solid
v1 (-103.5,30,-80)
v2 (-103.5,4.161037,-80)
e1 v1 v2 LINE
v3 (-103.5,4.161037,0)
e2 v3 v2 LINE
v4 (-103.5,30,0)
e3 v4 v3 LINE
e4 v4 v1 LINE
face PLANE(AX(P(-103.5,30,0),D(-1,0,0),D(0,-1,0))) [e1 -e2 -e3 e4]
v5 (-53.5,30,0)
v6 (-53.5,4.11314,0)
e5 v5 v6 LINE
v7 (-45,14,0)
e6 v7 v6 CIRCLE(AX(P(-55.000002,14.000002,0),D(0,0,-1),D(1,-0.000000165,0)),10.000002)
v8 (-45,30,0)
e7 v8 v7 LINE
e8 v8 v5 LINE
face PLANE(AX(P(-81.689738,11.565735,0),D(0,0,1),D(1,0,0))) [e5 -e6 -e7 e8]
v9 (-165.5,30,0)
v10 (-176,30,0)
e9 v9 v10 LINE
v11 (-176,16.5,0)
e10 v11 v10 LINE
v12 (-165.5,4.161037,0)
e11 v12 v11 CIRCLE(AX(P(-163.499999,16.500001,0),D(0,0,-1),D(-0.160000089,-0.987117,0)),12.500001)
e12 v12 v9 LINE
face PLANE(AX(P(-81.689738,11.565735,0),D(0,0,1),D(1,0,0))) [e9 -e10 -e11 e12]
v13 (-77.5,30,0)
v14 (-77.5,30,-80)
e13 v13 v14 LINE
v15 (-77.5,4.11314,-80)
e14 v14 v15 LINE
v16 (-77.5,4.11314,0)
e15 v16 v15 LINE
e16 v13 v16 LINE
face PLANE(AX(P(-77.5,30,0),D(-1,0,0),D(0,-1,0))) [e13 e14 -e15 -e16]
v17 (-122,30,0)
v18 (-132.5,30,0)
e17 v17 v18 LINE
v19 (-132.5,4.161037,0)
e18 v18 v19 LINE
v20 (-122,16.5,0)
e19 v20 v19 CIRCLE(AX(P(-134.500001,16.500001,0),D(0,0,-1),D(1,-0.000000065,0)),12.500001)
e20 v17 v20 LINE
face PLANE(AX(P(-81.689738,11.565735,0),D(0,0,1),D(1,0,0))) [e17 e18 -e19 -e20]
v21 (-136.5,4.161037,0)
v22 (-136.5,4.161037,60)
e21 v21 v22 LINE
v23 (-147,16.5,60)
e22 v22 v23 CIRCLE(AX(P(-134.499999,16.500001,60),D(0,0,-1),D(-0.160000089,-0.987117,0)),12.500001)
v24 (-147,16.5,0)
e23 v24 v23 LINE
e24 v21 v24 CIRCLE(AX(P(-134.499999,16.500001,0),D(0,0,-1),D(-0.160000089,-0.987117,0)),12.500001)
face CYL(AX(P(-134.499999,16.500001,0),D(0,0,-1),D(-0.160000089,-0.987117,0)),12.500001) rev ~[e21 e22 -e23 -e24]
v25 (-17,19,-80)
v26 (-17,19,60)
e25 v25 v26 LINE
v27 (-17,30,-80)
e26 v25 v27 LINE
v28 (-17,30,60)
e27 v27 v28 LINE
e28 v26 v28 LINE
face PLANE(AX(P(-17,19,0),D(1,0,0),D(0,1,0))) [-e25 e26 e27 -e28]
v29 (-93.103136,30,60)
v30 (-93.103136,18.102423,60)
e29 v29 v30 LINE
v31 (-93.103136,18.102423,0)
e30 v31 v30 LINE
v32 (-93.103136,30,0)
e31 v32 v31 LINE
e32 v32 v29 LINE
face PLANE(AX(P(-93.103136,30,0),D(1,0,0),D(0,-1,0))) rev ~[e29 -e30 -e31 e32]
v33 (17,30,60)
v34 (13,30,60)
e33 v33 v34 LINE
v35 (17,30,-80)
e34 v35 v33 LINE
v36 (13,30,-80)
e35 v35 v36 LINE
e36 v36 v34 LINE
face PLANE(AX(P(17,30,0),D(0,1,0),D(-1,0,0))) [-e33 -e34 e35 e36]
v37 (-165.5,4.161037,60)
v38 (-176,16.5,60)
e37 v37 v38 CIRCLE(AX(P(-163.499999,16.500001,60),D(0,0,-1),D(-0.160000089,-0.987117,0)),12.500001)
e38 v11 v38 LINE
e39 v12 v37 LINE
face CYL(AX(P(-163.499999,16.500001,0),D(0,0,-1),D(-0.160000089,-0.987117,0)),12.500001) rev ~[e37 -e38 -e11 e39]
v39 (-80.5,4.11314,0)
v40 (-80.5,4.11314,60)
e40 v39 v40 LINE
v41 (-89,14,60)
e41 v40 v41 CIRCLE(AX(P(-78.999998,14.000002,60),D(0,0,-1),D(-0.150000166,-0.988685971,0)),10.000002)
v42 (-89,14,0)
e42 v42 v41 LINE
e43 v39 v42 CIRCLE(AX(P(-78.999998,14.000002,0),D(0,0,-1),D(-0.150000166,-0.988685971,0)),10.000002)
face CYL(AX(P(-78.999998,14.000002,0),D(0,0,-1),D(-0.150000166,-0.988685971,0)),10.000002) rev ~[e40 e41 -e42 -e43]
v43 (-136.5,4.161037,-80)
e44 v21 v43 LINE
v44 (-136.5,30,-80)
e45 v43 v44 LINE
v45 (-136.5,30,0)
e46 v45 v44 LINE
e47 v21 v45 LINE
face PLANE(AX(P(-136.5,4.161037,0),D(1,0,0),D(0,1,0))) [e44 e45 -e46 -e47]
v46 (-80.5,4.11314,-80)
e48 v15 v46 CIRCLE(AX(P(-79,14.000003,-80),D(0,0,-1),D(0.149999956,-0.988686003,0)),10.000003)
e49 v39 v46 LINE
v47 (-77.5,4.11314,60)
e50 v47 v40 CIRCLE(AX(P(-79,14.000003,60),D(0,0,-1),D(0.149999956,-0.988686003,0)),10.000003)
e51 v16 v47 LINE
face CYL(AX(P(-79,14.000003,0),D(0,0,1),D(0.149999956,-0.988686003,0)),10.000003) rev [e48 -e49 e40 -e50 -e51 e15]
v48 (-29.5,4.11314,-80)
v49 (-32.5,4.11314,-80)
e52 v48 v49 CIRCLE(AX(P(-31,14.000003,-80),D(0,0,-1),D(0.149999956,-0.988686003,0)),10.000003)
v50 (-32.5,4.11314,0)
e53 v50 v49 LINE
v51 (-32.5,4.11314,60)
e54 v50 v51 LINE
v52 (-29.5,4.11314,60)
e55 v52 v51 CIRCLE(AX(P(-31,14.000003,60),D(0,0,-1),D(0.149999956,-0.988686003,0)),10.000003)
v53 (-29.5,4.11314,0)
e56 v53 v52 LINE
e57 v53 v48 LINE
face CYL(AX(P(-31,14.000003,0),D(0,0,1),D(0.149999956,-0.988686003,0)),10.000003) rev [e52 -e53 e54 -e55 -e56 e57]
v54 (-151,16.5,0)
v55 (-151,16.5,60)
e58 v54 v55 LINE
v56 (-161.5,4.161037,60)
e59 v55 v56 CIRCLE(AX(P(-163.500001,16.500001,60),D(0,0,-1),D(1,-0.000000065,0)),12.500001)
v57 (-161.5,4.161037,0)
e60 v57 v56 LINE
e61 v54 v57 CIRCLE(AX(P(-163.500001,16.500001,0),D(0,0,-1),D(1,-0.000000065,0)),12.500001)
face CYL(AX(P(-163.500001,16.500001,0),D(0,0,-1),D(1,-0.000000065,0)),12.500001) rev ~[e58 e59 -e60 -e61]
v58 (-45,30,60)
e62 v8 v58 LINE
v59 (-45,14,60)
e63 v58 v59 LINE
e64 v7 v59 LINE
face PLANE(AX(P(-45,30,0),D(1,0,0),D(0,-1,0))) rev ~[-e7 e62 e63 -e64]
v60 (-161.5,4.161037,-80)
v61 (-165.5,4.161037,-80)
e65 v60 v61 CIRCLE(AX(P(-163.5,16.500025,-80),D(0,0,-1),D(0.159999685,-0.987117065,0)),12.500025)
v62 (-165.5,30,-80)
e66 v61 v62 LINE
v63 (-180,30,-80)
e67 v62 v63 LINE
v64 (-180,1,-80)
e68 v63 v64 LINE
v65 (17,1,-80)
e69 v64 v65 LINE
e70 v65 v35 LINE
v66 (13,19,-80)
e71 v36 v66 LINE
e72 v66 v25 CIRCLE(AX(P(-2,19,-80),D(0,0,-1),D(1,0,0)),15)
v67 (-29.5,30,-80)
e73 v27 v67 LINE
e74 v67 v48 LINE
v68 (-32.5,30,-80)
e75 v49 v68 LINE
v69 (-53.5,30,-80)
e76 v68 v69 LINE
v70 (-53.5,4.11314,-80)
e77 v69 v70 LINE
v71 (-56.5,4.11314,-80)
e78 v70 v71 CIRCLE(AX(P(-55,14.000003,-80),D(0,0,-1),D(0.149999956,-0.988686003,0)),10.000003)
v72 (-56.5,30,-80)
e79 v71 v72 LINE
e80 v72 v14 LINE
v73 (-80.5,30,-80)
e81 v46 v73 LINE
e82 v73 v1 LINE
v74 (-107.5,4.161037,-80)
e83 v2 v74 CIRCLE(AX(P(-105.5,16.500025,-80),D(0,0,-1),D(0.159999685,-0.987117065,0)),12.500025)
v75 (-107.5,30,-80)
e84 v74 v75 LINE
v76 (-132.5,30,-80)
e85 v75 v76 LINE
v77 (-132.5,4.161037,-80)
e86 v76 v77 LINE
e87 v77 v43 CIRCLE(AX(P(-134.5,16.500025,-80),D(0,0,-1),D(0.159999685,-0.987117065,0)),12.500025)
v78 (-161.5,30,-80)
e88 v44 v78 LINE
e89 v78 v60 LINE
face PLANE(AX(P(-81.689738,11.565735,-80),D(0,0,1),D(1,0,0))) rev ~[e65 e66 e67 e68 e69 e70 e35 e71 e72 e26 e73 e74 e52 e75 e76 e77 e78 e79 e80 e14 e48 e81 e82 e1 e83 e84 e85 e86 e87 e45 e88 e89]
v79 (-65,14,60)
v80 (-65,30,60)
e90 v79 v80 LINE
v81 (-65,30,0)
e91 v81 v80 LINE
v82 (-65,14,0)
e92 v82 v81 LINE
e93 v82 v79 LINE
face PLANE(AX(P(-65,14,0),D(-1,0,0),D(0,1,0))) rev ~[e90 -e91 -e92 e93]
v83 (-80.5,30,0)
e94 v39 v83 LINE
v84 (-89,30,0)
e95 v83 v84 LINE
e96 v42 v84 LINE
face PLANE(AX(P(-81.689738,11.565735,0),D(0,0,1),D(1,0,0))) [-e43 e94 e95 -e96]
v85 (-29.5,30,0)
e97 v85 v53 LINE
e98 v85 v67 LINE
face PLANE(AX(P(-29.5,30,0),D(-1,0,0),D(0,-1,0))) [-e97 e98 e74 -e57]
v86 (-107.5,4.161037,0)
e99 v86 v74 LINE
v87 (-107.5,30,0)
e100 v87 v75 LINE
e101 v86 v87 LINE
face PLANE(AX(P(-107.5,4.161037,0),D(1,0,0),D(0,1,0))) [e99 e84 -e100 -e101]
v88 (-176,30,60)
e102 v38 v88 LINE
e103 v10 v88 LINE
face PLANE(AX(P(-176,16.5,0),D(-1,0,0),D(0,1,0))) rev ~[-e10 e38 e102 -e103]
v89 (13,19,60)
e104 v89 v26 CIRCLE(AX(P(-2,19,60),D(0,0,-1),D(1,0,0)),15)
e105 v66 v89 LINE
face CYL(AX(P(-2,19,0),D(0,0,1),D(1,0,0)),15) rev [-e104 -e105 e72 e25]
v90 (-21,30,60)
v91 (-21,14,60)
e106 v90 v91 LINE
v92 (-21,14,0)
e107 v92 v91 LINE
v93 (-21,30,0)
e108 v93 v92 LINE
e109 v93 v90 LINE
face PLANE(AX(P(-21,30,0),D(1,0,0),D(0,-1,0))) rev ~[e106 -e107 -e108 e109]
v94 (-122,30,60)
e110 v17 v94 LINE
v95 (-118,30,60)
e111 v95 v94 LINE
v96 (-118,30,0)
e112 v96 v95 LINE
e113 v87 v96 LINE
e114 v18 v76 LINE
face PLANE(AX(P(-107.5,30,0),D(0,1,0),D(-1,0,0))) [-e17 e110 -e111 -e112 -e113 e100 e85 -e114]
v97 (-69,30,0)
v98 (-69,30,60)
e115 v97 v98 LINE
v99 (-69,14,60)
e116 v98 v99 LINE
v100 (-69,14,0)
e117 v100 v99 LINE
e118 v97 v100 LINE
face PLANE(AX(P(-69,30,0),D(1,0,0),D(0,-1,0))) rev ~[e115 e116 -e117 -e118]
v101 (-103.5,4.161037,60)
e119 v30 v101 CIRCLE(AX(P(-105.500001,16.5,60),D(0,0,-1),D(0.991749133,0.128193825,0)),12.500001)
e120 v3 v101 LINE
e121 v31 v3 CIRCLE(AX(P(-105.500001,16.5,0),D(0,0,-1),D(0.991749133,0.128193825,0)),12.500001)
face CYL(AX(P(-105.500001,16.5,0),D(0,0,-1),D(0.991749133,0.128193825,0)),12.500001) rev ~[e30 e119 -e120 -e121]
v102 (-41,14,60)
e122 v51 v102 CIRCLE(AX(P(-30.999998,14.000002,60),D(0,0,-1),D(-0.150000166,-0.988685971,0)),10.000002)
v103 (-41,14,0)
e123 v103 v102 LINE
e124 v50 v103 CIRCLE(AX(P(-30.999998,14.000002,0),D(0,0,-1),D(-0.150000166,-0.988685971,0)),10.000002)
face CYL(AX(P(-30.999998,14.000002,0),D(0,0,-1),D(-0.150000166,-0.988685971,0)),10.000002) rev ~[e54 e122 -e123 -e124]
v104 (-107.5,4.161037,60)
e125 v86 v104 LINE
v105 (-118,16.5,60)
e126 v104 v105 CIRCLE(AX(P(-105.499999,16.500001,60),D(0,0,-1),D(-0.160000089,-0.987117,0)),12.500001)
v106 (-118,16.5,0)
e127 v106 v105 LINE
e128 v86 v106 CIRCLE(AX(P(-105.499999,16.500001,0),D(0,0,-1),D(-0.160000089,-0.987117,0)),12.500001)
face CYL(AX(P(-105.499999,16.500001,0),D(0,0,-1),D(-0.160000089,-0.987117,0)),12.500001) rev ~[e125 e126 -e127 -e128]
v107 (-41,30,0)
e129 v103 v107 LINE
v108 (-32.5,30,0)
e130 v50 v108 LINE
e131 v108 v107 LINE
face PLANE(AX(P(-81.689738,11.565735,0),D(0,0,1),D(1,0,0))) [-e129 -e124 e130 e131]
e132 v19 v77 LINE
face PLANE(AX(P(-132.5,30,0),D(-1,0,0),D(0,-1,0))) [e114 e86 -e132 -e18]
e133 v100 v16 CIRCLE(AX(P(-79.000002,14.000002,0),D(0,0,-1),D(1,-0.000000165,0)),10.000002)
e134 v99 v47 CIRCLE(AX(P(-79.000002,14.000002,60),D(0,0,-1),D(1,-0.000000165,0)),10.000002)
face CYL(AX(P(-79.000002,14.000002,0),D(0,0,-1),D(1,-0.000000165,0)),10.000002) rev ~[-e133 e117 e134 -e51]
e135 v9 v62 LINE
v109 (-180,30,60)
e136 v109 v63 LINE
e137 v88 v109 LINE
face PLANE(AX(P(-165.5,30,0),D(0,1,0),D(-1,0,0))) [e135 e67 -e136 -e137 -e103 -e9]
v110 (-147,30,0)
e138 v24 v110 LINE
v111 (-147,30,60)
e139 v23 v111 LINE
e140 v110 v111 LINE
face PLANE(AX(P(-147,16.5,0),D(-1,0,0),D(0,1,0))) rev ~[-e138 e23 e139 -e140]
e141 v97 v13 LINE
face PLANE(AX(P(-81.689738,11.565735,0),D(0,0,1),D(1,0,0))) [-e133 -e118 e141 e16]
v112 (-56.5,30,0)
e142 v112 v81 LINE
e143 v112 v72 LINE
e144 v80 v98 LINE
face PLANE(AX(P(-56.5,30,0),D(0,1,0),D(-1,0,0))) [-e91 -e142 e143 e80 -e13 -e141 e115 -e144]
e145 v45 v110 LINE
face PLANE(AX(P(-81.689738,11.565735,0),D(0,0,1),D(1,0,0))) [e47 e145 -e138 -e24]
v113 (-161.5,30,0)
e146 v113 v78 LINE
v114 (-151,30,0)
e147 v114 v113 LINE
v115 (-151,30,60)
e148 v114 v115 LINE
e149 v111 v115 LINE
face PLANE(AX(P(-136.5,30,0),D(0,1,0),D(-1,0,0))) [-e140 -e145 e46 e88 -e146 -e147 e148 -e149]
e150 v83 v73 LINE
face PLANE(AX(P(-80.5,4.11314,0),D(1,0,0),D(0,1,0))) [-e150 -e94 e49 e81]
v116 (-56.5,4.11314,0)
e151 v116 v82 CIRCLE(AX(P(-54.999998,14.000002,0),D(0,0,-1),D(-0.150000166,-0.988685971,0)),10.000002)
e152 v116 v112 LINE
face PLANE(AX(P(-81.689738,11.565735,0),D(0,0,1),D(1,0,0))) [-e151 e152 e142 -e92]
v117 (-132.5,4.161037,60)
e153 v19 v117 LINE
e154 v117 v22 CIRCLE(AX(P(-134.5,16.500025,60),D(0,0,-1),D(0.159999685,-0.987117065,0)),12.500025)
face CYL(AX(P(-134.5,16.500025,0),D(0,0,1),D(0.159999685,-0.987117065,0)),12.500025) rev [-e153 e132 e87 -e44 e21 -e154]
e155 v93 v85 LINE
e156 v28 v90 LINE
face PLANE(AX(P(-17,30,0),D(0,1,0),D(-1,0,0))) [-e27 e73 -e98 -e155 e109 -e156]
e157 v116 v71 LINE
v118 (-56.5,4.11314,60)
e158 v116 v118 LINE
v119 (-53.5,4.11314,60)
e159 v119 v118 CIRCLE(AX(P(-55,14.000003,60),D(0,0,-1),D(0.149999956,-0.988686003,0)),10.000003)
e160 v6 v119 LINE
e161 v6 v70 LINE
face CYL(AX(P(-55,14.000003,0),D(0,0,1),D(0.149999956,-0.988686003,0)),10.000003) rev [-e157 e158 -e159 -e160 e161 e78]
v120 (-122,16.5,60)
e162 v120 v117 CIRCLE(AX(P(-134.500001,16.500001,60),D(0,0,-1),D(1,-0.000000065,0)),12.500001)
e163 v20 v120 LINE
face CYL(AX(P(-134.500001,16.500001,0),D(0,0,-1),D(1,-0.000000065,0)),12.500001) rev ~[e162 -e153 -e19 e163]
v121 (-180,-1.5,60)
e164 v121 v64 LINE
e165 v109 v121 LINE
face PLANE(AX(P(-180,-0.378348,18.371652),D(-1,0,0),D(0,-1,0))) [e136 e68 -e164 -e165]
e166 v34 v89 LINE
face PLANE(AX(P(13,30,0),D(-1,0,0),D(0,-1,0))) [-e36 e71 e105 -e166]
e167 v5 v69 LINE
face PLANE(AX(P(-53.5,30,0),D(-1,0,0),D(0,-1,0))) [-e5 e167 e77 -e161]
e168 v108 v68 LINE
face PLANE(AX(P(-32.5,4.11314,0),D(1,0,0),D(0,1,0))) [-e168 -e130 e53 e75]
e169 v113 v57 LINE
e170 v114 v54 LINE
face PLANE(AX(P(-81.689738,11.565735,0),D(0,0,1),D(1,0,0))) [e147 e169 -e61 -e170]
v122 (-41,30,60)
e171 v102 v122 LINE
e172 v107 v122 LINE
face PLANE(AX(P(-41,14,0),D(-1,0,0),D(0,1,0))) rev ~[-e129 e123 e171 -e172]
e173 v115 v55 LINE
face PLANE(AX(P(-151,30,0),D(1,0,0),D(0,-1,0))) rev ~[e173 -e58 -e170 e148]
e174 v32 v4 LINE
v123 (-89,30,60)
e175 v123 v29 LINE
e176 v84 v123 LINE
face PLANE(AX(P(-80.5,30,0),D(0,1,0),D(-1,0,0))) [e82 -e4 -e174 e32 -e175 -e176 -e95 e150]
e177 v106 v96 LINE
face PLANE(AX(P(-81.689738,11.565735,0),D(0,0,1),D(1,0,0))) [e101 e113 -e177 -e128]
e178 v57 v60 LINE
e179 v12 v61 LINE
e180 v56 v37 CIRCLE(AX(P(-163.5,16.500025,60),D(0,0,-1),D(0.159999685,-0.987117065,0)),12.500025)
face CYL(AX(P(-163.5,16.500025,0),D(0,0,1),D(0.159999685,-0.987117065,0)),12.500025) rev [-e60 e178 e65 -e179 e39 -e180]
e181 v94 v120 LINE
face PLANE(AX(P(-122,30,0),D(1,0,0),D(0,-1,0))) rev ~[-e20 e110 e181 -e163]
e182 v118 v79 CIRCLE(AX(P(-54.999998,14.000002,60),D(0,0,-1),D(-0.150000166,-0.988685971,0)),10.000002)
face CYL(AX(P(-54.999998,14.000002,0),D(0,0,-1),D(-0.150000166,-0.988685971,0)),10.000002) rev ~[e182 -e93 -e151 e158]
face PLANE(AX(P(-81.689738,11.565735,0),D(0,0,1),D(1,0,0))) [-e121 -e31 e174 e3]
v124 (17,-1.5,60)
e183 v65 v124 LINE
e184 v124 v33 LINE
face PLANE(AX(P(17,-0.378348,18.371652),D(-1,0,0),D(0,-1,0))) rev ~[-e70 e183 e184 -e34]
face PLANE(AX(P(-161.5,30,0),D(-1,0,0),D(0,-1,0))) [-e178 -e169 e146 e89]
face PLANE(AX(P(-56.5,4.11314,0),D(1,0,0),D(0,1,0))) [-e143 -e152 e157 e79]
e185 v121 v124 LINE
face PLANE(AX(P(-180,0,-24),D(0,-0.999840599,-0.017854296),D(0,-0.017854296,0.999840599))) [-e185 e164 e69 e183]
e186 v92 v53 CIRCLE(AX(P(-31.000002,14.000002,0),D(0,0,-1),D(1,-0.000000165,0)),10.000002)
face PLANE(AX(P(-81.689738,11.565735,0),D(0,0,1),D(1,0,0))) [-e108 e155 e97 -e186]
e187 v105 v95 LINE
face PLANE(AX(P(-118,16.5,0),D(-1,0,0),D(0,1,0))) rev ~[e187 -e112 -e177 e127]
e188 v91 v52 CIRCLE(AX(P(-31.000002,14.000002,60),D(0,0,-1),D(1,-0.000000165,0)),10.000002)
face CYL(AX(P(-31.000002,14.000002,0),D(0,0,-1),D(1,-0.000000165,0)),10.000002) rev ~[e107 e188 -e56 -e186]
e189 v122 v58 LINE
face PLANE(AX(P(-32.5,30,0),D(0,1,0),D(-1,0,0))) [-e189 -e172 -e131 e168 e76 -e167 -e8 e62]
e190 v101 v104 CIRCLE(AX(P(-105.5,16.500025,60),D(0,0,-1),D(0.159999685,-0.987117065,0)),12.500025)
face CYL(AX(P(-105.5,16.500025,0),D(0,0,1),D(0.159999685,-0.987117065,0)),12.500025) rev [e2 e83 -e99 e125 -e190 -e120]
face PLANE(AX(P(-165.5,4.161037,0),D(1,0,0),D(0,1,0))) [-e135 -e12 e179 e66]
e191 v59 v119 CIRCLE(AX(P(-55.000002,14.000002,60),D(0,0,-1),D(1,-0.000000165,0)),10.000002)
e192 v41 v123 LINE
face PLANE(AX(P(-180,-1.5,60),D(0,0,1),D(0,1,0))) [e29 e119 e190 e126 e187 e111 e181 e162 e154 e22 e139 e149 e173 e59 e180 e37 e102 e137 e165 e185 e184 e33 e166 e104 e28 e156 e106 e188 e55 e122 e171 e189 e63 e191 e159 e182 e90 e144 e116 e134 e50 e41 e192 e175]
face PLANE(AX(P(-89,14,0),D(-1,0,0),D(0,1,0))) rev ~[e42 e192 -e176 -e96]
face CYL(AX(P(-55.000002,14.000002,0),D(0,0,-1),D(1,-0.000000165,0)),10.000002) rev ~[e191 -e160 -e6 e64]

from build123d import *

# Parameters (mm, degrees)
F1_DEPTH = 60
F2_DEPTH = 80
F4_DEPTH = 197
F5_DEPTH = 197


with BuildPart() as f1:
    # F0 (on Top) → F1 (new body)
    with BuildSketch(Plane.XY):
        with BuildLine():
            Line((-176, 30), (-180, 30))
            Line((-180, 30), (-180, 0))
            Line((-180, 0), (0, 0))
            Line((0, 0), (17, 0))
            Line((17, 0), (17, 30))
            Line((17, 30), (13, 30))
            Line((13, 30), (13, 19))
            ThreePointArc((13, 19), (-2, 4), (-17, 19))
            Line((-17, 19), (-17, 30))
            Line((-17, 30), (-21, 30))
            Line((-21, 30), (-21, 14))
            ThreePointArc((-21, 14), (-23.417125, 7.480798), (-29.5, 4.11314))
            ThreePointArc((-29.5, 4.11314), (-31, 4), (-32.5, 4.11314))
            ThreePointArc((-32.5, 4.11314), (-38.582875, 7.480798), (-41, 14))
            Line((-41, 14), (-41, 30))
            Line((-41, 30), (-45, 30))
            Line((-45, 30), (-45, 14))
            ThreePointArc((-45, 14), (-47.417125, 7.480798), (-53.5, 4.11314))
            ThreePointArc((-53.5, 4.11314), (-55, 4), (-56.5, 4.11314))
            ThreePointArc((-56.5, 4.11314), (-62.582875, 7.480798), (-65, 14))
            Line((-65, 14), (-65, 30))
            Line((-65, 30), (-69, 30))
            Line((-69, 30), (-69, 14))
            ThreePointArc((-69, 14), (-71.417125, 7.480798), (-77.5, 4.11314))
            ThreePointArc((-77.5, 4.11314), (-79, 4), (-80.5, 4.11314))
            ThreePointArc((-80.5, 4.11314), (-86.582875, 7.480798), (-89, 14))
            Line((-89, 14), (-89, 30))
            Line((-89, 30), (-93.103136, 30))
            Line((-93.103136, 30), (-93.103136, 18.102423))
            ThreePointArc((-93.103136, 18.102423), (-95.479622, 9.027248), (-103.5, 4.161037))
            ThreePointArc((-103.5, 4.161037), (-105.5, 4), (-107.5, 4.161037))
            ThreePointArc((-107.5, 4.161037), (-115.019716, 8.399074), (-118, 16.5))
            Line((-118, 16.5), (-118, 30))
            Line((-118, 30), (-122, 30))
            Line((-122, 30), (-122, 16.5))
            ThreePointArc((-122, 16.5), (-124.980284, 8.399074), (-132.5, 4.161037))
            ThreePointArc((-132.5, 4.161037), (-134.5, 4), (-136.5, 4.161037))
            ThreePointArc((-136.5, 4.161037), (-144.019716, 8.399074), (-147, 16.5))
            Line((-147, 16.5), (-147, 30))
            Line((-147, 30), (-151, 30))
            Line((-151, 30), (-151, 16.5))
            ThreePointArc((-151, 16.5), (-153.980284, 8.399074), (-161.5, 4.161037))
            ThreePointArc((-161.5, 4.161037), (-163.5, 4), (-165.5, 4.161037))
            ThreePointArc((-165.5, 4.161037), (-173.019716, 8.399074), (-176, 16.5))
            Line((-176, 16.5), (-176, 30))
        make_face()
    extrude(amount=F1_DEPTH)

    # F0 (on Top) → F2 (join)
    with BuildSketch(Plane.XY):
        with BuildLine():
            Line((-176, 30), (-180, 30))
            Line((-180, 30), (-180, 0))
            Line((-180, 0), (0, 0))
            Line((0, 0), (17, 0))
            Line((17, 0), (17, 30))
            Line((17, 30), (13, 30))
            Line((13, 30), (13, 19))
            ThreePointArc((13, 19), (-2, 4), (-17, 19))
            Line((-17, 19), (-17, 30))
            Line((-17, 30), (-21, 30))
            Line((-21, 30), (-21, 14))
            ThreePointArc((-21, 14), (-23.417125, 7.480798), (-29.5, 4.11314))
            ThreePointArc((-29.5, 4.11314), (-31, 4), (-32.5, 4.11314))
            ThreePointArc((-32.5, 4.11314), (-38.582875, 7.480798), (-41, 14))
            Line((-41, 14), (-41, 30))
            Line((-41, 30), (-45, 30))
            Line((-45, 30), (-45, 14))
            ThreePointArc((-45, 14), (-47.417125, 7.480798), (-53.5, 4.11314))
            ThreePointArc((-53.5, 4.11314), (-55, 4), (-56.5, 4.11314))
            ThreePointArc((-56.5, 4.11314), (-62.582875, 7.480798), (-65, 14))
            Line((-65, 14), (-65, 30))
            Line((-65, 30), (-69, 30))
            Line((-69, 30), (-69, 14))
            ThreePointArc((-69, 14), (-71.417125, 7.480798), (-77.5, 4.11314))
            ThreePointArc((-77.5, 4.11314), (-79, 4), (-80.5, 4.11314))
            ThreePointArc((-80.5, 4.11314), (-86.582875, 7.480798), (-89, 14))
            Line((-89, 14), (-89, 30))
            Line((-89, 30), (-93.103136, 30))
            Line((-93.103136, 30), (-93.103136, 18.102423))
            ThreePointArc((-93.103136, 18.102423), (-95.479622, 9.027248), (-103.5, 4.161037))
            ThreePointArc((-103.5, 4.161037), (-105.5, 4), (-107.5, 4.161037))
            ThreePointArc((-107.5, 4.161037), (-115.019716, 8.399074), (-118, 16.5))
            Line((-118, 16.5), (-118, 30))
            Line((-118, 30), (-122, 30))
            Line((-122, 30), (-122, 16.5))
            ThreePointArc((-122, 16.5), (-124.980284, 8.399074), (-132.5, 4.161037))
            ThreePointArc((-132.5, 4.161037), (-134.5, 4), (-136.5, 4.161037))
            ThreePointArc((-136.5, 4.161037), (-144.019716, 8.399074), (-147, 16.5))
            Line((-147, 16.5), (-147, 30))
            Line((-147, 30), (-151, 30))
            Line((-151, 30), (-151, 16.5))
            ThreePointArc((-151, 16.5), (-153.980284, 8.399074), (-161.5, 4.161037))
            ThreePointArc((-161.5, 4.161037), (-163.5, 4), (-165.5, 4.161037))
            ThreePointArc((-165.5, 4.161037), (-173.019716, 8.399074), (-176, 16.5))
            Line((-176, 16.5), (-176, 30))
        make_face()
        with BuildLine():
            Line((-165.5, 30), (-176, 30))
            Line((-176, 30), (-176, 16.5))
            ThreePointArc((-176, 16.5), (-173.019716, 8.399074), (-165.5, 4.161037))
            Line((-165.5, 4.161037), (-165.5, 8.647036))
            Line((-165.5, 8.647036), (-165.5, 30))
        make_face()
        with BuildLine():
            Line((-151, 30), (-161.5, 30))
            Line((-161.5, 30), (-161.5, 11.134194))
            Line((-161.5, 11.134194), (-161.5, 4.161037))
            ThreePointArc((-161.5, 4.161037), (-153.980284, 8.399074), (-151, 16.5))
            Line((-151, 16.5), (-151, 30))
        make_face()
        with BuildLine():
            Line((-136.5, 30), (-147, 30))
            Line((-147, 30), (-147, 16.5))
            ThreePointArc((-147, 16.5), (-144.019716, 8.399074), (-136.5, 4.161037))
            Line((-136.5, 4.161037), (-136.5, 13.265696))
            Line((-136.5, 13.265696), (-136.5, 30))
        make_face()
        with BuildLine():
            Line((-122, 30), (-132.5, 30))
            Line((-132.5, 30), (-132.5, 14.049987))
            Line((-132.5, 14.049987), (-132.5, 4.161037))
            ThreePointArc((-132.5, 4.161037), (-124.980284, 8.399074), (-122, 16.5))
            Line((-122, 16.5), (-122, 30))
        make_face()
        with BuildLine():
            Line((-107.5, 30), (-118, 30))
            Line((-118, 30), (-118, 16.5))
            ThreePointArc((-118, 16.5), (-115.019716, 8.399074), (-107.5, 4.161037))
            Line((-107.5, 4.161037), (-107.5, 11.18967))
            Line((-107.5, 11.18967), (-107.5, 30))
        make_face()
        with BuildLine():
            Line((-93.103136, 30), (-103.5, 30))
            Line((-103.5, 30), (-103.5, 10.63935))
            Line((-103.5, 10.63935), (-103.5, 4.161037))
            ThreePointArc((-103.5, 4.161037), (-95.479622, 9.027248), (-93.103136, 18.102423))
            Line((-93.103136, 18.102423), (-93.103136, 30))
        make_face()
        with BuildLine():
            Line((-80.5, 30), (-89, 30))
            Line((-89, 30), (-89, 14))
            ThreePointArc((-89, 14), (-86.582875, 7.480798), (-80.5, 4.11314))
            Line((-80.5, 4.11314), (-80.5, 18.017488))
            Line((-80.5, 18.017488), (-80.5, 30))
        make_face()
        with BuildLine():
            Line((-69, 30), (-77.5, 30))
            Line((-77.5, 30), (-77.5, 17.524529))
            Line((-77.5, 17.524529), (-77.5, 4.11314))
            ThreePointArc((-77.5, 4.11314), (-71.417125, 7.480798), (-69, 14))
            Line((-69, 14), (-69, 30))
        make_face()
        with BuildLine():
            Line((-56.5, 10.179425), (-56.5, 30))
            Line((-56.5, 30), (-65, 30))
            Line((-65, 30), (-65, 14))
            ThreePointArc((-65, 14), (-62.582875, 7.480798), (-56.5, 4.11314))
            Line((-56.5, 4.11314), (-56.5, 10.179425))
        make_face()
        with BuildLine():
            Line((-45, 14), (-45, 30))
            Line((-45, 30), (-53.5, 30))
            Line((-53.5, 30), (-53.5, 10.014313))
            Line((-53.5, 10.014313), (-53.5, 4.11314))
            ThreePointArc((-53.5, 4.11314), (-47.417125, 7.480798), (-45, 14))
        make_face()
        with BuildLine():
            Line((-32.5, 17.372157), (-32.5, 30))
            Line((-32.5, 30), (-41, 30))
            Line((-41, 30), (-41, 14))
            ThreePointArc((-41, 14), (-38.582875, 7.480798), (-32.5, 4.11314))
            Line((-32.5, 4.11314), (-32.5, 17.372157))
        make_face()
        with BuildLine():
            Line((-21, 14), (-21, 30))
            Line((-21, 30), (-29.5, 30))
            Line((-29.5, 30), (-29.5, 17.21671))
            Line((-29.5, 17.21671), (-29.5, 4.11314))
            ThreePointArc((-29.5, 4.11314), (-23.417125, 7.480798), (-21, 14))
        make_face()
    extrude(amount=-F2_DEPTH)

    # F3 (on face) → F4 (join, through all)
    with BuildSketch(Plane(origin=(-180, 0, 0), x_dir=(0, -1, 0), z_dir=(-1, 0, 0))):
        Polygon((0, -24), (1.5, 60), (0, 60), align=None)
    extrude(amount=-F4_DEPTH)

    # F3 (on face) → F5 (cut, through all)
    with BuildSketch(Plane(origin=(-180, 0, 0), x_dir=(0, -1, 0), z_dir=(-1, 0, 0))):
        Polygon((0, -80), (0, -24), (-1, -80), align=None)
    extrude(amount=-F5_DEPTH, mode=Mode.SUBTRACT)


solid = f1.part
